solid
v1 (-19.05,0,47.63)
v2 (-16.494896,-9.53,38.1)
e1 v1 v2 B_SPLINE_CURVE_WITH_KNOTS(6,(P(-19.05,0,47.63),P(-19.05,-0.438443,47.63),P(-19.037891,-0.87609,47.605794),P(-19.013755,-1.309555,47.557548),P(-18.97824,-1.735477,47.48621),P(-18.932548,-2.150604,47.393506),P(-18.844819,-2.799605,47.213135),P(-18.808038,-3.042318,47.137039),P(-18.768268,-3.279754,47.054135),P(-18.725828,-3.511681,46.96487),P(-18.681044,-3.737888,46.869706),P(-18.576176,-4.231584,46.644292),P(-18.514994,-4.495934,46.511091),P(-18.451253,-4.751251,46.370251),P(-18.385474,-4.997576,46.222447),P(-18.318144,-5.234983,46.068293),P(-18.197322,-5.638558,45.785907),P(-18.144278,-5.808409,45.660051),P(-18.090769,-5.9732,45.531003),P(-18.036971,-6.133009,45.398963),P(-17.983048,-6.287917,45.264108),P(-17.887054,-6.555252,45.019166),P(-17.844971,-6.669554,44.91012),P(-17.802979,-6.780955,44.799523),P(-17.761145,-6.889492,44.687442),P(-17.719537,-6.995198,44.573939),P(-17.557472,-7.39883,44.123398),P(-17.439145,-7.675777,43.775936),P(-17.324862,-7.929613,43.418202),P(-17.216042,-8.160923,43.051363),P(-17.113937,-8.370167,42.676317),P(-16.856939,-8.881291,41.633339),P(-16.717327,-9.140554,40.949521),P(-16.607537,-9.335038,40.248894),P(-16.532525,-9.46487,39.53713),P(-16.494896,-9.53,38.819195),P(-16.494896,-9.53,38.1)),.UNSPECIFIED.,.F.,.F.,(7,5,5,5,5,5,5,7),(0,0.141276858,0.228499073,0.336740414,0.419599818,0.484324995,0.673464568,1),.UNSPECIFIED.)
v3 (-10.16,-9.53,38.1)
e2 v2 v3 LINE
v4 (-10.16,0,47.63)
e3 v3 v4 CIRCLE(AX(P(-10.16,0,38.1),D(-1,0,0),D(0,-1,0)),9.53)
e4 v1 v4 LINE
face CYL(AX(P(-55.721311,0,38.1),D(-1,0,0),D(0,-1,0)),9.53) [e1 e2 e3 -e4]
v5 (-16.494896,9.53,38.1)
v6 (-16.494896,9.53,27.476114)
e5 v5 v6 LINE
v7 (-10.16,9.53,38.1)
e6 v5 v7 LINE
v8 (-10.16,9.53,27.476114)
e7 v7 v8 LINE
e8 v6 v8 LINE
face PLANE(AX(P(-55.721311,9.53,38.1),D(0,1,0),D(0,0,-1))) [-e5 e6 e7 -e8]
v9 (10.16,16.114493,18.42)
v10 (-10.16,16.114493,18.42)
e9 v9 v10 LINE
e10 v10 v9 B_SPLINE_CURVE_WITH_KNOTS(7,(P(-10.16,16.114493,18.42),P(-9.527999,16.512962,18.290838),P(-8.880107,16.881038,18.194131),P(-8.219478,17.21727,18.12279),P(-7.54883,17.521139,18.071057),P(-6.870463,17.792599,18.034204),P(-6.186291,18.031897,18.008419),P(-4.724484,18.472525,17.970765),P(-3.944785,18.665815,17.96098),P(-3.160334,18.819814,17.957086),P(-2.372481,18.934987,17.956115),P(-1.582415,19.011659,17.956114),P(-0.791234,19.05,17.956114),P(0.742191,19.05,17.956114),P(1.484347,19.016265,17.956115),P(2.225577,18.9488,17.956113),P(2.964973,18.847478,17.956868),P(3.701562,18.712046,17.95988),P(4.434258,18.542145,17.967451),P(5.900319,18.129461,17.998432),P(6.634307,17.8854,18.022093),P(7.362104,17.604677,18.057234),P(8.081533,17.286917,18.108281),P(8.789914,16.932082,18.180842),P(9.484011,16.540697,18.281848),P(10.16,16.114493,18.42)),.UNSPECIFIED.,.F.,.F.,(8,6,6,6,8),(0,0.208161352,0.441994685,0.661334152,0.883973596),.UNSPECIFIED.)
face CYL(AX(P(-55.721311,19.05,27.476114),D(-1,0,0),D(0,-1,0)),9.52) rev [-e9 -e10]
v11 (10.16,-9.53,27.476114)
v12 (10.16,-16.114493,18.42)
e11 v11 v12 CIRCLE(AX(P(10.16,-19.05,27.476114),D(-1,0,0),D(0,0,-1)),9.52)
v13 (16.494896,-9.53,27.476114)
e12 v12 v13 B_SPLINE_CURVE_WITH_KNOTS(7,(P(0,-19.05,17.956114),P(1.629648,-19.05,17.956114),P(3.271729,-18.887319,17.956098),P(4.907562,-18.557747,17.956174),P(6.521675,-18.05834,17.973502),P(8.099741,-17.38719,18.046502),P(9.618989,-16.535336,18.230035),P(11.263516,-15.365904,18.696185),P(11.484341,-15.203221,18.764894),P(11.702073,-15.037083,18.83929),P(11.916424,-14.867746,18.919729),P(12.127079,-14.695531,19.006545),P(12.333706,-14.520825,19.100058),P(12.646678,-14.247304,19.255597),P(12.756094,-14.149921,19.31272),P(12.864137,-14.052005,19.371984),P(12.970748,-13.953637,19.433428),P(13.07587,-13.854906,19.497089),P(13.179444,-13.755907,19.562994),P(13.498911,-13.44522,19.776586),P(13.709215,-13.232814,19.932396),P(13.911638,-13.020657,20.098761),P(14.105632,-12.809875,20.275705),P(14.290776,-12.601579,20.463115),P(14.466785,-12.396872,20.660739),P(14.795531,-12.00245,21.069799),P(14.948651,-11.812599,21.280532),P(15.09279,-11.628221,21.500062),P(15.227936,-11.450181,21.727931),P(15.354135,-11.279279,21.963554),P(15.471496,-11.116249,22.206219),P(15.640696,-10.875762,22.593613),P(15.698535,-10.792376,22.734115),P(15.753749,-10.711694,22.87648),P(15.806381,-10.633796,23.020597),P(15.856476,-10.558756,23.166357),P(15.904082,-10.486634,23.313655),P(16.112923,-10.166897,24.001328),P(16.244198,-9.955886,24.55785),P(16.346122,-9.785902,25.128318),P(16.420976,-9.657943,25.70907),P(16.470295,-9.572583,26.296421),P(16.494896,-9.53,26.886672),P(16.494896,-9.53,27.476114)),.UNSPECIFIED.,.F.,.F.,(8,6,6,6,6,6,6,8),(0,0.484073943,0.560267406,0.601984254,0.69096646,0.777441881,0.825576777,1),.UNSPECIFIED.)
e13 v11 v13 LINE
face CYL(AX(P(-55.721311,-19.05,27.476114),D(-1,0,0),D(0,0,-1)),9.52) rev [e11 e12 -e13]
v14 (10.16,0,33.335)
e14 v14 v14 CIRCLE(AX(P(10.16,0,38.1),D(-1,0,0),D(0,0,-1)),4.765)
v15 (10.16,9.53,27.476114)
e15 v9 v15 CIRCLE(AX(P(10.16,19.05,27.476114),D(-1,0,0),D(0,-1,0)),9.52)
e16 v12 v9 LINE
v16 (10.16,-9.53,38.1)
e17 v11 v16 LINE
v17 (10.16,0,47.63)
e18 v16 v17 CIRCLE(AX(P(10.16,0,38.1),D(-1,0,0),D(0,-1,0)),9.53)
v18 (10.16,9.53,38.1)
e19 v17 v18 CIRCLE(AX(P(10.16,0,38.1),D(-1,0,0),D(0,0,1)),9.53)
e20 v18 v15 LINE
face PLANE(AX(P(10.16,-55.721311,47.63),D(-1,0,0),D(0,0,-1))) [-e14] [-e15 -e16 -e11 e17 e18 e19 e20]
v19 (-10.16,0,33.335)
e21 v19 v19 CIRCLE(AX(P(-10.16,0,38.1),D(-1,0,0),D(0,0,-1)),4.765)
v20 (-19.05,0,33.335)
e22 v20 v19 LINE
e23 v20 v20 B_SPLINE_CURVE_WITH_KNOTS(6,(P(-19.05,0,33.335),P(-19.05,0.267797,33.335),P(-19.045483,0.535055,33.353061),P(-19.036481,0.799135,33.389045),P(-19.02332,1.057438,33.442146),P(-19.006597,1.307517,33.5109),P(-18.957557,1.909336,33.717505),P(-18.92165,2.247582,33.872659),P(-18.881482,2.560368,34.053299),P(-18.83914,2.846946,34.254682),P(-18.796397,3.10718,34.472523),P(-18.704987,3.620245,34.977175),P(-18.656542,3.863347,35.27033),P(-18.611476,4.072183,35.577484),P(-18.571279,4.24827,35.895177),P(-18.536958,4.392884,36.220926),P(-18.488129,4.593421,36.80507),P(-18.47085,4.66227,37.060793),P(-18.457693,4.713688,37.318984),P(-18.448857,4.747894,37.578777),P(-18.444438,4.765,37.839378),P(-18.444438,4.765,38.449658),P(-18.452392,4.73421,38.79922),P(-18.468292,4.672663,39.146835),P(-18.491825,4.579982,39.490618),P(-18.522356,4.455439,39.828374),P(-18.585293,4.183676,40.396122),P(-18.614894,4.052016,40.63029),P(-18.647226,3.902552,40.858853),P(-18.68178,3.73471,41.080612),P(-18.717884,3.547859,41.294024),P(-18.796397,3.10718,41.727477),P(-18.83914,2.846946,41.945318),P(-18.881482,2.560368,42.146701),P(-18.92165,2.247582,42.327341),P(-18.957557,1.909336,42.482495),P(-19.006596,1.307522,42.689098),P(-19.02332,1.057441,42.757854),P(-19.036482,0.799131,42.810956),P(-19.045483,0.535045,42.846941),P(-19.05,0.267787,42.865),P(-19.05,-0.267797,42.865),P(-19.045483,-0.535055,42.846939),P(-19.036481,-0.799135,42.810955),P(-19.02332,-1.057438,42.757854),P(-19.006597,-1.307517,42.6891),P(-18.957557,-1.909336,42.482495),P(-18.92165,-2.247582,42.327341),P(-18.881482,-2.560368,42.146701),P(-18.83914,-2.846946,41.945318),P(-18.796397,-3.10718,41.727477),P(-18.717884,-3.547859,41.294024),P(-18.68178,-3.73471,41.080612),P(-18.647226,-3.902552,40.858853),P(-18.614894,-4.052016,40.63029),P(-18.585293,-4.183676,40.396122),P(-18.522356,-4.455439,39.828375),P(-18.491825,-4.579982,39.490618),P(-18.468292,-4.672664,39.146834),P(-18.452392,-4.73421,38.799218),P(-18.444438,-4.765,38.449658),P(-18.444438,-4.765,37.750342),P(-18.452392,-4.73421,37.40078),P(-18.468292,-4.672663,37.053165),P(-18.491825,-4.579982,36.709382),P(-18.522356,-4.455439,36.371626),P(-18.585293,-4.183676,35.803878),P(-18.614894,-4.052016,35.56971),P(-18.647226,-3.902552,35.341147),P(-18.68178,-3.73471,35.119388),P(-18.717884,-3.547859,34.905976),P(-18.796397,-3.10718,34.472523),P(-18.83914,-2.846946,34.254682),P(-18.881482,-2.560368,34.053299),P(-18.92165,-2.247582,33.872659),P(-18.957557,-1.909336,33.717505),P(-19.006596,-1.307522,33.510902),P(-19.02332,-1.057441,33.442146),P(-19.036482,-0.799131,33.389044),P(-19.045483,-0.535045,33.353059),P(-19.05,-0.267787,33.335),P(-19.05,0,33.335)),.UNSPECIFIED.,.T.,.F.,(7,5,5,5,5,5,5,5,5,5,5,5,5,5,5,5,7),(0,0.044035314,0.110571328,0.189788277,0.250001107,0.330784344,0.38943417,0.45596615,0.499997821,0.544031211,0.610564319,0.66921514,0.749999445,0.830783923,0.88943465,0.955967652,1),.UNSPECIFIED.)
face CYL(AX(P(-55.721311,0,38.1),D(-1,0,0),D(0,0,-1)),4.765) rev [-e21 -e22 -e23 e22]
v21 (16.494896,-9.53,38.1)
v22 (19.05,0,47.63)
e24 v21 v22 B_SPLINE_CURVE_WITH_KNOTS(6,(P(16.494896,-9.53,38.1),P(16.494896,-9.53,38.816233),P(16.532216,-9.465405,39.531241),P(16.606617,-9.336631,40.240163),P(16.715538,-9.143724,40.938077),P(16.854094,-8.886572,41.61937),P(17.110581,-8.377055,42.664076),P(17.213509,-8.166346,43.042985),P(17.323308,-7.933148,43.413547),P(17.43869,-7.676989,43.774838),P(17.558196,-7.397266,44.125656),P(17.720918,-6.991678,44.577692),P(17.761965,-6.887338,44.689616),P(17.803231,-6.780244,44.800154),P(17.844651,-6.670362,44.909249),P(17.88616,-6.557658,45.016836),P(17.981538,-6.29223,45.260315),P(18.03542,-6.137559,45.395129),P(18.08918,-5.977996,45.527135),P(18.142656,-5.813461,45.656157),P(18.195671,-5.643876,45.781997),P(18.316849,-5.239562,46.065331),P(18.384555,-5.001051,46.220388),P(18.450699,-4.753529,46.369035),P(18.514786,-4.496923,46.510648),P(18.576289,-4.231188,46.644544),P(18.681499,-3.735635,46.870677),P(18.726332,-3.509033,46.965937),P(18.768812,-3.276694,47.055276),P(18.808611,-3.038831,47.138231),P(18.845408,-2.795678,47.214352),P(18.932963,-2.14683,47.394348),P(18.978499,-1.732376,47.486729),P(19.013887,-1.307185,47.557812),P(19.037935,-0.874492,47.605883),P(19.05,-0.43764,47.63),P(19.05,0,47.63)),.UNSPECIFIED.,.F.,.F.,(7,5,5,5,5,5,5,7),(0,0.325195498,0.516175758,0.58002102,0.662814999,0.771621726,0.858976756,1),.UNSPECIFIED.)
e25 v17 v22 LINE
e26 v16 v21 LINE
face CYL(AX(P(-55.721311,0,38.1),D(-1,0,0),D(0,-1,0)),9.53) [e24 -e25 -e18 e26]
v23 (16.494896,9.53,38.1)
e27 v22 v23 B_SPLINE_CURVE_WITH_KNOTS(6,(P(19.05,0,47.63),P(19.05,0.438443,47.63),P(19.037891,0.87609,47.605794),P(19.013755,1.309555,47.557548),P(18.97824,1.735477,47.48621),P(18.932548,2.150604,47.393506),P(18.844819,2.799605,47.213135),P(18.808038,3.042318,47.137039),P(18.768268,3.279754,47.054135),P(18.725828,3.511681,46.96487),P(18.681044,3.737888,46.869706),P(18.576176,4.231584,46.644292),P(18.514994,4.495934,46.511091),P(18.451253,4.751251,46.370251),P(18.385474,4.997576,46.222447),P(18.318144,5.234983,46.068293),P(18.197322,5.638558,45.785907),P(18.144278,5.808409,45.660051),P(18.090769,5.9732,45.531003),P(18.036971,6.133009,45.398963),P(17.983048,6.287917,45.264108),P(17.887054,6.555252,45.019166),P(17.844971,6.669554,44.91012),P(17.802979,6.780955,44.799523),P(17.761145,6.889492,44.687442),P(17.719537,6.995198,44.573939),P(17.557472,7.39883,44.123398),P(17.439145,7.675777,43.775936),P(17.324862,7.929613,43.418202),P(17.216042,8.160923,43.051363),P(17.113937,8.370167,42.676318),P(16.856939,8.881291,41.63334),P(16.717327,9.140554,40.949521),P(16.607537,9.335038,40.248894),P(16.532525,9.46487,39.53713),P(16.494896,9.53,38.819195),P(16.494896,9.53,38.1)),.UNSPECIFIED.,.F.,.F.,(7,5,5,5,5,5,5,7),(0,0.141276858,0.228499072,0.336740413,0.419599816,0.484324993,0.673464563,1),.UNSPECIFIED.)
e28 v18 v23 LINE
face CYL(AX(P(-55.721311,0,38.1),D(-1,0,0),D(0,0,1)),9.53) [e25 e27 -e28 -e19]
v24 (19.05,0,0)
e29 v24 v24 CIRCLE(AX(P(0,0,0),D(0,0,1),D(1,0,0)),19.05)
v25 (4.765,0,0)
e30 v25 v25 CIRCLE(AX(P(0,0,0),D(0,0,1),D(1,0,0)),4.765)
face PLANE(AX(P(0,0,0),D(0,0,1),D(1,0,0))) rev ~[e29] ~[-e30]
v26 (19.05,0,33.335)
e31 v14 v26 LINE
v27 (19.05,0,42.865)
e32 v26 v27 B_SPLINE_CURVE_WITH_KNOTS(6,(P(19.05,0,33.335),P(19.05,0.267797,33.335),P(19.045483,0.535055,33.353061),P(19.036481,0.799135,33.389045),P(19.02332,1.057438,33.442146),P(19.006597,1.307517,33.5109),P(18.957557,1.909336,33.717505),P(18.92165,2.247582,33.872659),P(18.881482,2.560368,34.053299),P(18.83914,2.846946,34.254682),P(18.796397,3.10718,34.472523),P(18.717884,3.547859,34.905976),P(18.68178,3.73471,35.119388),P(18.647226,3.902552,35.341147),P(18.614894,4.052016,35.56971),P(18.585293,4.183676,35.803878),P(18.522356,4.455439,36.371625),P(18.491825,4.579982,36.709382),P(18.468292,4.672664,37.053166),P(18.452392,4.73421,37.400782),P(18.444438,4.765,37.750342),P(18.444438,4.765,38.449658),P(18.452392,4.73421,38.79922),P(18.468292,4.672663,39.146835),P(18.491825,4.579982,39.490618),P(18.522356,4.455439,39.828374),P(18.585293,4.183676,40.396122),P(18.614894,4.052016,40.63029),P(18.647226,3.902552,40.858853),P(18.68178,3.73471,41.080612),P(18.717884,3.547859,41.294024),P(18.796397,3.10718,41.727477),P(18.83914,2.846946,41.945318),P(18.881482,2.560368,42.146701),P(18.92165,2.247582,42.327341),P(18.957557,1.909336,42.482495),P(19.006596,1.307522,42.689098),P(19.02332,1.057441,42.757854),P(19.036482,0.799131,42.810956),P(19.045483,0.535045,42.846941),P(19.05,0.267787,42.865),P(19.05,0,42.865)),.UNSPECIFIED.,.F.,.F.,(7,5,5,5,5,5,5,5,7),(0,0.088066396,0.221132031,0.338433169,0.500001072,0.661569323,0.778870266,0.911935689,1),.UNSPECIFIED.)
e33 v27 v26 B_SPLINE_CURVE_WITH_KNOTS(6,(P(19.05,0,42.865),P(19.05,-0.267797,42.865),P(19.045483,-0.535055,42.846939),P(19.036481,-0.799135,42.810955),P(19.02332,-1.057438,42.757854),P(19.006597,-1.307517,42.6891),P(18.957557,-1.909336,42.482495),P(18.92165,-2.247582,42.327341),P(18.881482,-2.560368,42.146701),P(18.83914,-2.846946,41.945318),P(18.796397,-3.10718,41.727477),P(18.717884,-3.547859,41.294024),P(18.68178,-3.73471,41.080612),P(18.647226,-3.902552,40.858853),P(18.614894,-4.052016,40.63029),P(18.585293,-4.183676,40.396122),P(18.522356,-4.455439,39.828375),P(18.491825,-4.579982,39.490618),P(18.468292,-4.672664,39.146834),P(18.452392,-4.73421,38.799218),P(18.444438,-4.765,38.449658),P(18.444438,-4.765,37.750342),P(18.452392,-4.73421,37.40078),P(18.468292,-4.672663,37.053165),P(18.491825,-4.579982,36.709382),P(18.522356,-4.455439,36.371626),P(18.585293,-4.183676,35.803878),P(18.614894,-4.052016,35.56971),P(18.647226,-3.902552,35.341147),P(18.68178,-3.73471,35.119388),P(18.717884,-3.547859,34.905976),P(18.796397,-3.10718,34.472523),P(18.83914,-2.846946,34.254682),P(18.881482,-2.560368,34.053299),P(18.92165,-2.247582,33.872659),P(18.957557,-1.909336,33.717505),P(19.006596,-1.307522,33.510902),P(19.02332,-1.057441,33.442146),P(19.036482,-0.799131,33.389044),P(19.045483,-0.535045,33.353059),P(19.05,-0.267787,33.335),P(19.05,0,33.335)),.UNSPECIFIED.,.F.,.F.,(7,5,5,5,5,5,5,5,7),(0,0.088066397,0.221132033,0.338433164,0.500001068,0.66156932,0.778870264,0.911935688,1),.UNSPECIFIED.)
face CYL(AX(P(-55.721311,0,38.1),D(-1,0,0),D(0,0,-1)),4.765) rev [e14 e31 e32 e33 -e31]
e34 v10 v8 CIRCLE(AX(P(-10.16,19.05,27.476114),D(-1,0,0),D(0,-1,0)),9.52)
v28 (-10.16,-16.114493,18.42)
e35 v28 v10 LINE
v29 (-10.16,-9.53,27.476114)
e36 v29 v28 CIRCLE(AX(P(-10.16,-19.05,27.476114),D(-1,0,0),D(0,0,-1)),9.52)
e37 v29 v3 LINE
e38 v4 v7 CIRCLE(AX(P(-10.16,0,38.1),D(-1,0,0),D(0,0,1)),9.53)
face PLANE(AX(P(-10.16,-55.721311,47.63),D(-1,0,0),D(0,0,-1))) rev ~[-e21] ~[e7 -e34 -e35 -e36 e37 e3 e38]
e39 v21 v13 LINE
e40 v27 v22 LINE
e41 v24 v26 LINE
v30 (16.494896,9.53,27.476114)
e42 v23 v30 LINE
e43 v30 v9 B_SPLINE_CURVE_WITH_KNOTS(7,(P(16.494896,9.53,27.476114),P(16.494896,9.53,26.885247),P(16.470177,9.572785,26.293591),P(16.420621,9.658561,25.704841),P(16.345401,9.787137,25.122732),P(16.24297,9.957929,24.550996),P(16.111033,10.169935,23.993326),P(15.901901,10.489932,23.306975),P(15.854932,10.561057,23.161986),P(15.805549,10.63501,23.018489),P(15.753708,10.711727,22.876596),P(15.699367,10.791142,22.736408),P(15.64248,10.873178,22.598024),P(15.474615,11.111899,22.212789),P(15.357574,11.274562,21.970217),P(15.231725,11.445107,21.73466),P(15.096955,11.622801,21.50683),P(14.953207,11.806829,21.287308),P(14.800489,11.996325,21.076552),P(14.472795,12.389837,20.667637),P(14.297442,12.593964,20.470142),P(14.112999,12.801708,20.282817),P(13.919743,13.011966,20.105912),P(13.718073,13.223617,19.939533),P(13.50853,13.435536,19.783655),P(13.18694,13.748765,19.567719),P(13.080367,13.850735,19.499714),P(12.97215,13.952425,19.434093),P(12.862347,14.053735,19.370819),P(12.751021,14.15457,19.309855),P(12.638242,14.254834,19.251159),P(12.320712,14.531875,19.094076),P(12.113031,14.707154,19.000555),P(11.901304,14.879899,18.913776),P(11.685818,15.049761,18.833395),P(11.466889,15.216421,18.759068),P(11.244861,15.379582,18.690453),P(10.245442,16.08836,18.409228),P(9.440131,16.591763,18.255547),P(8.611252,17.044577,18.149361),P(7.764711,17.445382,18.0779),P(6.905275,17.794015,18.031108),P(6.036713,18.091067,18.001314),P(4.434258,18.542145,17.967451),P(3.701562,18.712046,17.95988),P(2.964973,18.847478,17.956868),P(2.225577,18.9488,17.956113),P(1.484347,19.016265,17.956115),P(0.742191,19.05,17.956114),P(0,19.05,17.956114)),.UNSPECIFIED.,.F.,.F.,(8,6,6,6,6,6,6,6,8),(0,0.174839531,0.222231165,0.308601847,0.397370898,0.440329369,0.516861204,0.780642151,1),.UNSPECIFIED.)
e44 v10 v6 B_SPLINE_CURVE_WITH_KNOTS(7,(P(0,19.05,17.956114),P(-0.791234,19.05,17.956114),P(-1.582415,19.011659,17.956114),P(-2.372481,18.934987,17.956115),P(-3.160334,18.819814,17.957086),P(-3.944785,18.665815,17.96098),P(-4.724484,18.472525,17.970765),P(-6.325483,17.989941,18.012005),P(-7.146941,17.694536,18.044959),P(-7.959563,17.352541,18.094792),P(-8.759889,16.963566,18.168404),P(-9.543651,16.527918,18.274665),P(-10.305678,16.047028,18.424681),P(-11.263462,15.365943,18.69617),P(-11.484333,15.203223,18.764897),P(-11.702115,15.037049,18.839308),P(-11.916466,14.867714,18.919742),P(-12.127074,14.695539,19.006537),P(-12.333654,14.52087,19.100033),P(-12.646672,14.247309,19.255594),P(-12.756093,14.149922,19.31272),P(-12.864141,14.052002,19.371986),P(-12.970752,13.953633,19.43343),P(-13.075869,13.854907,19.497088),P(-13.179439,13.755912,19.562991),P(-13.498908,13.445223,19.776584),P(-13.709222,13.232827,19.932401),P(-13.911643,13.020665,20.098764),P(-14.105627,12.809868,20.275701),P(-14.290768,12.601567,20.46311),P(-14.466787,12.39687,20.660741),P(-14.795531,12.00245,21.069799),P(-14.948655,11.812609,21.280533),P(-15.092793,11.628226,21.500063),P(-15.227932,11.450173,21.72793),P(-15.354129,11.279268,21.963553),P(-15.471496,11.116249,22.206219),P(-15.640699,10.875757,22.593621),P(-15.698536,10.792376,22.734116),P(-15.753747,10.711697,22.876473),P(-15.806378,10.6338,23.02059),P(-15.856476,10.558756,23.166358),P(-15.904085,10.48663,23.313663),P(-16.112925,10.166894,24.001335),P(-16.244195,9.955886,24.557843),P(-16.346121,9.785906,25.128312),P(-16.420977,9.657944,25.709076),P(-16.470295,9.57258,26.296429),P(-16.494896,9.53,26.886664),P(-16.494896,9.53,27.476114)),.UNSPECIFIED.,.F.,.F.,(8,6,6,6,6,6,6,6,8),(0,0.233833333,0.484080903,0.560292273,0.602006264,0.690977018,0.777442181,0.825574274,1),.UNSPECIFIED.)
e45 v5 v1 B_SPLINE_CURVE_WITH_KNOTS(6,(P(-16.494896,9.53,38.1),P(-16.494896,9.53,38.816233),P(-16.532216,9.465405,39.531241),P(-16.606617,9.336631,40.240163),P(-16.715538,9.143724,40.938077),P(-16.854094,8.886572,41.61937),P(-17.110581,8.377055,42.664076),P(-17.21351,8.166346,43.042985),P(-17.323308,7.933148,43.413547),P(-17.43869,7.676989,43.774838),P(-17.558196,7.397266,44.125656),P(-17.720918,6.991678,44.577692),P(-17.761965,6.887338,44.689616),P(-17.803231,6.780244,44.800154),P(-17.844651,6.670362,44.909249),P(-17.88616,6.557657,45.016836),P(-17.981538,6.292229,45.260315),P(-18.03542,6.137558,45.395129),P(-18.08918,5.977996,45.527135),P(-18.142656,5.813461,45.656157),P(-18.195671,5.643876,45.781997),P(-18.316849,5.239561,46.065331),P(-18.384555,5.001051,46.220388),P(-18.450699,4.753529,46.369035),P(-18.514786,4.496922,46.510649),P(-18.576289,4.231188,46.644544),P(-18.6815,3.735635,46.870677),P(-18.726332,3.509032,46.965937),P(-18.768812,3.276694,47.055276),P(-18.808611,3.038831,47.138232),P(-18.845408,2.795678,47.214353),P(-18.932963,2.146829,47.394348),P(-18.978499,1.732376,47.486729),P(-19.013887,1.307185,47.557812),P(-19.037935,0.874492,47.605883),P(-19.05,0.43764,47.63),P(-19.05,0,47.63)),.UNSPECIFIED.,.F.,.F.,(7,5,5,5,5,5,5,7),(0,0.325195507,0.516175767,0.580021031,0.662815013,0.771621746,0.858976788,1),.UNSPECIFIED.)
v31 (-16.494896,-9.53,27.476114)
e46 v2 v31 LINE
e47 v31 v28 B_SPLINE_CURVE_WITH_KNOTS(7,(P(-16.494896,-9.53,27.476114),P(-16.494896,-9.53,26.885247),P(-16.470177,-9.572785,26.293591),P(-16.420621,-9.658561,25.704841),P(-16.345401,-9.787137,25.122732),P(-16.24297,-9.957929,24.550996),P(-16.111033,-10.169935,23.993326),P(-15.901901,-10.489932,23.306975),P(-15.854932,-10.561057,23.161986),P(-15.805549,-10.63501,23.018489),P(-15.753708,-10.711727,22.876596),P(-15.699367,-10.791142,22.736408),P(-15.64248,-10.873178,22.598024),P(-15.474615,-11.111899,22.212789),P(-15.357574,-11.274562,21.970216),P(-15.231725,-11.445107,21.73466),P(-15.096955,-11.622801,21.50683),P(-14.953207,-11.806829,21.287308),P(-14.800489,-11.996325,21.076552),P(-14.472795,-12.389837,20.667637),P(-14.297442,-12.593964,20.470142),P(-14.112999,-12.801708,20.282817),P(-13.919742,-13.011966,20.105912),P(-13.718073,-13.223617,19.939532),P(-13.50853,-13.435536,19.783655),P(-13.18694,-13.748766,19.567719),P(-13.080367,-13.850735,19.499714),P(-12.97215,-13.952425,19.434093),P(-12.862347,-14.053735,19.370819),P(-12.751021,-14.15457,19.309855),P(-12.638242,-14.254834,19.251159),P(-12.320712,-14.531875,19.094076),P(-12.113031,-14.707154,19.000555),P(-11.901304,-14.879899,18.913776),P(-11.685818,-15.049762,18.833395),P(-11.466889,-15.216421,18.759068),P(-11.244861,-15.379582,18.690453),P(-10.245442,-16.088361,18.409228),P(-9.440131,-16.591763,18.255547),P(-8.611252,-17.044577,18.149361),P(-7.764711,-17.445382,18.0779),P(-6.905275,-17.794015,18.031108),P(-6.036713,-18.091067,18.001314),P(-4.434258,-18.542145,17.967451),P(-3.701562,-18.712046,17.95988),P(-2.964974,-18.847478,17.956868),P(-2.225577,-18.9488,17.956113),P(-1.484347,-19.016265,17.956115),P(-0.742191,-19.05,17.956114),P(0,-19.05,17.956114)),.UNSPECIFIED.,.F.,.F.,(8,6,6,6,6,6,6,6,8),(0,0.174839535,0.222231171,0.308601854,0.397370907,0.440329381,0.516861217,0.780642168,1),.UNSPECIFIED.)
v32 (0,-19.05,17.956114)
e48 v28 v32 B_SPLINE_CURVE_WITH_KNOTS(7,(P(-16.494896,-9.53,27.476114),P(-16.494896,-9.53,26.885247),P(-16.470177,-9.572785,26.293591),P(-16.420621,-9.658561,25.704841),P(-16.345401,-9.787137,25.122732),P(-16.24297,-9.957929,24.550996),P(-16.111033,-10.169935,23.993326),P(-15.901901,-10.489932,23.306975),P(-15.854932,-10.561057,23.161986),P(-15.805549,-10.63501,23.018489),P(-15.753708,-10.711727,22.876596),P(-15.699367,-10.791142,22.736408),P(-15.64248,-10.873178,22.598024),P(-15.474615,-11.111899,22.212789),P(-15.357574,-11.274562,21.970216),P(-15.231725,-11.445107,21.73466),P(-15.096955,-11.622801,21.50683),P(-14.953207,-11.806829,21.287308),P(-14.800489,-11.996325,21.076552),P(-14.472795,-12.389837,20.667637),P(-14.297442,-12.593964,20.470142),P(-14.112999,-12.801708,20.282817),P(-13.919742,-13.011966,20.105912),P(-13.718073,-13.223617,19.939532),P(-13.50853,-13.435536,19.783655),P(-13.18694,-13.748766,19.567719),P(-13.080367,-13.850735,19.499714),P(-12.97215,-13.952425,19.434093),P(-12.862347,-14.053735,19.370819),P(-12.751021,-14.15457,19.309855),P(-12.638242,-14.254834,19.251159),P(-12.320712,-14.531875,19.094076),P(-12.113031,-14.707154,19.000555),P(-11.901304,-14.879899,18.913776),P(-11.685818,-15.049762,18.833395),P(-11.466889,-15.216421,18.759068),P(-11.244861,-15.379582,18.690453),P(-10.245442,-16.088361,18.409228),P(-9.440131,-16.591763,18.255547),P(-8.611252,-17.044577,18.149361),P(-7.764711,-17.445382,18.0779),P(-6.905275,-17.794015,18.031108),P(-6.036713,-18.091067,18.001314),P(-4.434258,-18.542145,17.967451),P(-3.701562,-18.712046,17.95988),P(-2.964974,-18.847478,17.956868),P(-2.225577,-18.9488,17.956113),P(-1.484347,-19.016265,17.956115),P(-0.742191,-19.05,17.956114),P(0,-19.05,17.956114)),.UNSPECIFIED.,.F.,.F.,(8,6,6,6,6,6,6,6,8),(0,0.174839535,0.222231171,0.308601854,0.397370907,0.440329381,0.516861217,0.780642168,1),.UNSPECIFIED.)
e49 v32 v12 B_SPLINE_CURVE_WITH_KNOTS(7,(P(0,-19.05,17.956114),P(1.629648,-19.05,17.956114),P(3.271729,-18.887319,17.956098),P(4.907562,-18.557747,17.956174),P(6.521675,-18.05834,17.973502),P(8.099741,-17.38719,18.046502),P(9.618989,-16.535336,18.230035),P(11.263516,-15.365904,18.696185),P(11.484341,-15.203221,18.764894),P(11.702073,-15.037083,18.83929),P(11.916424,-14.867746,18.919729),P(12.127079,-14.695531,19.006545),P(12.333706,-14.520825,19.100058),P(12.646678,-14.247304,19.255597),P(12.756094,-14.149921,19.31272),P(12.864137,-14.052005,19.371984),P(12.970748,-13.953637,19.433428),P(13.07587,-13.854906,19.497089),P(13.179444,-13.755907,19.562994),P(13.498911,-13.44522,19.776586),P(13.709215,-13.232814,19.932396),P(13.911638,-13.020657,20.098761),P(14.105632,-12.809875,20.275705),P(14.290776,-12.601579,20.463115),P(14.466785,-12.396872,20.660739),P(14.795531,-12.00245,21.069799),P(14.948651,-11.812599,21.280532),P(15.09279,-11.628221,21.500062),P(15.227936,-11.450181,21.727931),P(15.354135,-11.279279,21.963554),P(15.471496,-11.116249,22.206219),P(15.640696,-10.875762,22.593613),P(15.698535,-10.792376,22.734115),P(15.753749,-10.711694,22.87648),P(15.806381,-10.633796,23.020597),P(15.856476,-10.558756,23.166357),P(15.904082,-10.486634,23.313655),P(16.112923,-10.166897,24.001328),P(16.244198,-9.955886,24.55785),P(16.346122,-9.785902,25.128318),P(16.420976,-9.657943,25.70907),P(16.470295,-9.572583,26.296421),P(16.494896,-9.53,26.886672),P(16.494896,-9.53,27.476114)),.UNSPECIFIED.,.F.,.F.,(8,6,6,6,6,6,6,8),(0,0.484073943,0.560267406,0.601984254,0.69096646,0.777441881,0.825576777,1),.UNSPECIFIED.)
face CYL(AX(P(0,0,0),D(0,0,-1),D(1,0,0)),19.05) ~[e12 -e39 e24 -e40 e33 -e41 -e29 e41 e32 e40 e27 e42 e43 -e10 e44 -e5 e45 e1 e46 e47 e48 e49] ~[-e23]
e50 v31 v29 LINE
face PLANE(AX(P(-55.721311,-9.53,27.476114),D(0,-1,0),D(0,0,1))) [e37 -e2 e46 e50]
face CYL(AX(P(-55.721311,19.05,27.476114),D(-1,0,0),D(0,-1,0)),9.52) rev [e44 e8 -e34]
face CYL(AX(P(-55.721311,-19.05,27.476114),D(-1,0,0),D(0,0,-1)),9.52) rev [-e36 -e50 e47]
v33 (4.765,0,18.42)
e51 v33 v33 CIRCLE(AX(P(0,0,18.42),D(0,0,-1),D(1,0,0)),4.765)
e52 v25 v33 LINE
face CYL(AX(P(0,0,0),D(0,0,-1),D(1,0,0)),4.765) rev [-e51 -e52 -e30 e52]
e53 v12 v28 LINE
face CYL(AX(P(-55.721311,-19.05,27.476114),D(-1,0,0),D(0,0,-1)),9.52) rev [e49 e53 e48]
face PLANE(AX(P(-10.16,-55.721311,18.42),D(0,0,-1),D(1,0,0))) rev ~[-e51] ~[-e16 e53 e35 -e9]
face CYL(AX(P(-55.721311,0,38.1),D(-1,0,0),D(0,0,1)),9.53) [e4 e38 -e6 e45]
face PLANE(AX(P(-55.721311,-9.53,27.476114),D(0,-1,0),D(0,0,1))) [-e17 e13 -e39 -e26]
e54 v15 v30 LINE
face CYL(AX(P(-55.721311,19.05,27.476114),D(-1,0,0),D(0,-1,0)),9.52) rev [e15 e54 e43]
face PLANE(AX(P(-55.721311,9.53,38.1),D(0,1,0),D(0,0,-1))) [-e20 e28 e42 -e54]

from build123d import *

# Parameters (mm, degrees)
SKETCH1_R               = 19.05
SKETCH1_R_2             = 4.765
BOSS_EXTRUDE1_DEPTH     = 47.63
CUT_EXTRUDE1_DEPTH      = 55.721311205
CUT_EXTRUDE1_DEPTH_BACK = 55.721311205
SKETCH2_W               = 20.32
SKETCH2_H               = 29.21
CUT_EXTRUDE3_DEPTH      = 55.721311205
CUT_EXTRUDE3_DEPTH_BACK = 55.721311205
CUT_EXTRUDE4_DEPTH      = 55.721311362
CUT_EXTRUDE4_DEPTH_BACK = 55.721311362
SKETCH3_5_R             = 4.765


with BuildPart() as part:
    # Sketch1 → Boss-Extrude1 (new body)
    with BuildSketch(Plane.XY):
        Circle(SKETCH1_R)
        Circle(SKETCH1_R_2, mode=Mode.SUBTRACT)
    extrude(amount=BOSS_EXTRUDE1_DEPTH)

    # Sketch2 → Cut-Extrude1 (cut, two sides: drawn at the far end of the back side and taken through both)
    with BuildSketch(Plane(origin=(0, 0, 0), x_dir=(1, 0, 0), z_dir=(0, 1, 0)).offset(-CUT_EXTRUDE1_DEPTH_BACK)):
        with Locations((0, -33.025)):
            Rectangle(SKETCH2_W, SKETCH2_H)
    extrude(amount=CUT_EXTRUDE1_DEPTH + CUT_EXTRUDE1_DEPTH_BACK, mode=Mode.SUBTRACT)

    # Sketch3 → Cut-Extrude3 (cut, two sides: drawn at the far end of the back side and taken through both)
    with BuildSketch(Plane(origin=(0, 0, 0), x_dir=(0, 0, -1), z_dir=(1, 0, 0)).offset(-CUT_EXTRUDE3_DEPTH_BACK)):
        with BuildLine():
            Line((-55.897546117, 9.53), (-47.63, 9.53))
            Line((-47.63, 9.53), (-47.63, 0))
            ThreePointArc((-47.63, 0), (-44.838727625, 6.738727625), (-38.1, 9.53))
            Line((-38.1, 9.53), (-27.476114037, 9.53))
            ThreePointArc((-27.476114037, 9.53), (-20.74445748, 12.318343443), (-17.956114037, 19.05))
            Line((-17.956114037, 19.05), (-47.497981878, 20.575601986))
            Line((-47.497981878, 20.575601986), (-55.897546117, 9.53))
        make_face()
        with BuildLine():
            ThreePointArc((-38.1, -9.53), (-44.838727625, -6.738727625), (-47.63, 0))
            Line((-47.63, 0), (-47.63, -9.53))
            Line((-47.63, -9.53), (-55.897546117, -9.53))
            Line((-55.897546117, -9.53), (-47.497981878, -20.575601986))
            Line((-47.497981878, -20.575601986), (-17.956114037, -19.05))
            ThreePointArc((-17.956114037, -19.05), (-20.74445748, -12.318343443), (-27.476114037, -9.53))
            Line((-27.476114037, -9.53), (-38.1, -9.53))
        make_face()
    extrude(amount=CUT_EXTRUDE3_DEPTH + CUT_EXTRUDE3_DEPTH_BACK, mode=Mode.SUBTRACT)

    # Sketch3<5> → Cut-Extrude4 (cut, two sides: drawn at the far end of the back side and taken through both)
    with BuildSketch(Plane(origin=(0, 0, 0), x_dir=(0, 0, -1), z_dir=(1, 0, 0)).offset(-CUT_EXTRUDE4_DEPTH_BACK)):
        with Locations((-38.1, 0)):
            Circle(SKETCH3_5_R)
    extrude(amount=CUT_EXTRUDE4_DEPTH + CUT_EXTRUDE4_DEPTH_BACK, mode=Mode.SUBTRACT)


solid = part.part
